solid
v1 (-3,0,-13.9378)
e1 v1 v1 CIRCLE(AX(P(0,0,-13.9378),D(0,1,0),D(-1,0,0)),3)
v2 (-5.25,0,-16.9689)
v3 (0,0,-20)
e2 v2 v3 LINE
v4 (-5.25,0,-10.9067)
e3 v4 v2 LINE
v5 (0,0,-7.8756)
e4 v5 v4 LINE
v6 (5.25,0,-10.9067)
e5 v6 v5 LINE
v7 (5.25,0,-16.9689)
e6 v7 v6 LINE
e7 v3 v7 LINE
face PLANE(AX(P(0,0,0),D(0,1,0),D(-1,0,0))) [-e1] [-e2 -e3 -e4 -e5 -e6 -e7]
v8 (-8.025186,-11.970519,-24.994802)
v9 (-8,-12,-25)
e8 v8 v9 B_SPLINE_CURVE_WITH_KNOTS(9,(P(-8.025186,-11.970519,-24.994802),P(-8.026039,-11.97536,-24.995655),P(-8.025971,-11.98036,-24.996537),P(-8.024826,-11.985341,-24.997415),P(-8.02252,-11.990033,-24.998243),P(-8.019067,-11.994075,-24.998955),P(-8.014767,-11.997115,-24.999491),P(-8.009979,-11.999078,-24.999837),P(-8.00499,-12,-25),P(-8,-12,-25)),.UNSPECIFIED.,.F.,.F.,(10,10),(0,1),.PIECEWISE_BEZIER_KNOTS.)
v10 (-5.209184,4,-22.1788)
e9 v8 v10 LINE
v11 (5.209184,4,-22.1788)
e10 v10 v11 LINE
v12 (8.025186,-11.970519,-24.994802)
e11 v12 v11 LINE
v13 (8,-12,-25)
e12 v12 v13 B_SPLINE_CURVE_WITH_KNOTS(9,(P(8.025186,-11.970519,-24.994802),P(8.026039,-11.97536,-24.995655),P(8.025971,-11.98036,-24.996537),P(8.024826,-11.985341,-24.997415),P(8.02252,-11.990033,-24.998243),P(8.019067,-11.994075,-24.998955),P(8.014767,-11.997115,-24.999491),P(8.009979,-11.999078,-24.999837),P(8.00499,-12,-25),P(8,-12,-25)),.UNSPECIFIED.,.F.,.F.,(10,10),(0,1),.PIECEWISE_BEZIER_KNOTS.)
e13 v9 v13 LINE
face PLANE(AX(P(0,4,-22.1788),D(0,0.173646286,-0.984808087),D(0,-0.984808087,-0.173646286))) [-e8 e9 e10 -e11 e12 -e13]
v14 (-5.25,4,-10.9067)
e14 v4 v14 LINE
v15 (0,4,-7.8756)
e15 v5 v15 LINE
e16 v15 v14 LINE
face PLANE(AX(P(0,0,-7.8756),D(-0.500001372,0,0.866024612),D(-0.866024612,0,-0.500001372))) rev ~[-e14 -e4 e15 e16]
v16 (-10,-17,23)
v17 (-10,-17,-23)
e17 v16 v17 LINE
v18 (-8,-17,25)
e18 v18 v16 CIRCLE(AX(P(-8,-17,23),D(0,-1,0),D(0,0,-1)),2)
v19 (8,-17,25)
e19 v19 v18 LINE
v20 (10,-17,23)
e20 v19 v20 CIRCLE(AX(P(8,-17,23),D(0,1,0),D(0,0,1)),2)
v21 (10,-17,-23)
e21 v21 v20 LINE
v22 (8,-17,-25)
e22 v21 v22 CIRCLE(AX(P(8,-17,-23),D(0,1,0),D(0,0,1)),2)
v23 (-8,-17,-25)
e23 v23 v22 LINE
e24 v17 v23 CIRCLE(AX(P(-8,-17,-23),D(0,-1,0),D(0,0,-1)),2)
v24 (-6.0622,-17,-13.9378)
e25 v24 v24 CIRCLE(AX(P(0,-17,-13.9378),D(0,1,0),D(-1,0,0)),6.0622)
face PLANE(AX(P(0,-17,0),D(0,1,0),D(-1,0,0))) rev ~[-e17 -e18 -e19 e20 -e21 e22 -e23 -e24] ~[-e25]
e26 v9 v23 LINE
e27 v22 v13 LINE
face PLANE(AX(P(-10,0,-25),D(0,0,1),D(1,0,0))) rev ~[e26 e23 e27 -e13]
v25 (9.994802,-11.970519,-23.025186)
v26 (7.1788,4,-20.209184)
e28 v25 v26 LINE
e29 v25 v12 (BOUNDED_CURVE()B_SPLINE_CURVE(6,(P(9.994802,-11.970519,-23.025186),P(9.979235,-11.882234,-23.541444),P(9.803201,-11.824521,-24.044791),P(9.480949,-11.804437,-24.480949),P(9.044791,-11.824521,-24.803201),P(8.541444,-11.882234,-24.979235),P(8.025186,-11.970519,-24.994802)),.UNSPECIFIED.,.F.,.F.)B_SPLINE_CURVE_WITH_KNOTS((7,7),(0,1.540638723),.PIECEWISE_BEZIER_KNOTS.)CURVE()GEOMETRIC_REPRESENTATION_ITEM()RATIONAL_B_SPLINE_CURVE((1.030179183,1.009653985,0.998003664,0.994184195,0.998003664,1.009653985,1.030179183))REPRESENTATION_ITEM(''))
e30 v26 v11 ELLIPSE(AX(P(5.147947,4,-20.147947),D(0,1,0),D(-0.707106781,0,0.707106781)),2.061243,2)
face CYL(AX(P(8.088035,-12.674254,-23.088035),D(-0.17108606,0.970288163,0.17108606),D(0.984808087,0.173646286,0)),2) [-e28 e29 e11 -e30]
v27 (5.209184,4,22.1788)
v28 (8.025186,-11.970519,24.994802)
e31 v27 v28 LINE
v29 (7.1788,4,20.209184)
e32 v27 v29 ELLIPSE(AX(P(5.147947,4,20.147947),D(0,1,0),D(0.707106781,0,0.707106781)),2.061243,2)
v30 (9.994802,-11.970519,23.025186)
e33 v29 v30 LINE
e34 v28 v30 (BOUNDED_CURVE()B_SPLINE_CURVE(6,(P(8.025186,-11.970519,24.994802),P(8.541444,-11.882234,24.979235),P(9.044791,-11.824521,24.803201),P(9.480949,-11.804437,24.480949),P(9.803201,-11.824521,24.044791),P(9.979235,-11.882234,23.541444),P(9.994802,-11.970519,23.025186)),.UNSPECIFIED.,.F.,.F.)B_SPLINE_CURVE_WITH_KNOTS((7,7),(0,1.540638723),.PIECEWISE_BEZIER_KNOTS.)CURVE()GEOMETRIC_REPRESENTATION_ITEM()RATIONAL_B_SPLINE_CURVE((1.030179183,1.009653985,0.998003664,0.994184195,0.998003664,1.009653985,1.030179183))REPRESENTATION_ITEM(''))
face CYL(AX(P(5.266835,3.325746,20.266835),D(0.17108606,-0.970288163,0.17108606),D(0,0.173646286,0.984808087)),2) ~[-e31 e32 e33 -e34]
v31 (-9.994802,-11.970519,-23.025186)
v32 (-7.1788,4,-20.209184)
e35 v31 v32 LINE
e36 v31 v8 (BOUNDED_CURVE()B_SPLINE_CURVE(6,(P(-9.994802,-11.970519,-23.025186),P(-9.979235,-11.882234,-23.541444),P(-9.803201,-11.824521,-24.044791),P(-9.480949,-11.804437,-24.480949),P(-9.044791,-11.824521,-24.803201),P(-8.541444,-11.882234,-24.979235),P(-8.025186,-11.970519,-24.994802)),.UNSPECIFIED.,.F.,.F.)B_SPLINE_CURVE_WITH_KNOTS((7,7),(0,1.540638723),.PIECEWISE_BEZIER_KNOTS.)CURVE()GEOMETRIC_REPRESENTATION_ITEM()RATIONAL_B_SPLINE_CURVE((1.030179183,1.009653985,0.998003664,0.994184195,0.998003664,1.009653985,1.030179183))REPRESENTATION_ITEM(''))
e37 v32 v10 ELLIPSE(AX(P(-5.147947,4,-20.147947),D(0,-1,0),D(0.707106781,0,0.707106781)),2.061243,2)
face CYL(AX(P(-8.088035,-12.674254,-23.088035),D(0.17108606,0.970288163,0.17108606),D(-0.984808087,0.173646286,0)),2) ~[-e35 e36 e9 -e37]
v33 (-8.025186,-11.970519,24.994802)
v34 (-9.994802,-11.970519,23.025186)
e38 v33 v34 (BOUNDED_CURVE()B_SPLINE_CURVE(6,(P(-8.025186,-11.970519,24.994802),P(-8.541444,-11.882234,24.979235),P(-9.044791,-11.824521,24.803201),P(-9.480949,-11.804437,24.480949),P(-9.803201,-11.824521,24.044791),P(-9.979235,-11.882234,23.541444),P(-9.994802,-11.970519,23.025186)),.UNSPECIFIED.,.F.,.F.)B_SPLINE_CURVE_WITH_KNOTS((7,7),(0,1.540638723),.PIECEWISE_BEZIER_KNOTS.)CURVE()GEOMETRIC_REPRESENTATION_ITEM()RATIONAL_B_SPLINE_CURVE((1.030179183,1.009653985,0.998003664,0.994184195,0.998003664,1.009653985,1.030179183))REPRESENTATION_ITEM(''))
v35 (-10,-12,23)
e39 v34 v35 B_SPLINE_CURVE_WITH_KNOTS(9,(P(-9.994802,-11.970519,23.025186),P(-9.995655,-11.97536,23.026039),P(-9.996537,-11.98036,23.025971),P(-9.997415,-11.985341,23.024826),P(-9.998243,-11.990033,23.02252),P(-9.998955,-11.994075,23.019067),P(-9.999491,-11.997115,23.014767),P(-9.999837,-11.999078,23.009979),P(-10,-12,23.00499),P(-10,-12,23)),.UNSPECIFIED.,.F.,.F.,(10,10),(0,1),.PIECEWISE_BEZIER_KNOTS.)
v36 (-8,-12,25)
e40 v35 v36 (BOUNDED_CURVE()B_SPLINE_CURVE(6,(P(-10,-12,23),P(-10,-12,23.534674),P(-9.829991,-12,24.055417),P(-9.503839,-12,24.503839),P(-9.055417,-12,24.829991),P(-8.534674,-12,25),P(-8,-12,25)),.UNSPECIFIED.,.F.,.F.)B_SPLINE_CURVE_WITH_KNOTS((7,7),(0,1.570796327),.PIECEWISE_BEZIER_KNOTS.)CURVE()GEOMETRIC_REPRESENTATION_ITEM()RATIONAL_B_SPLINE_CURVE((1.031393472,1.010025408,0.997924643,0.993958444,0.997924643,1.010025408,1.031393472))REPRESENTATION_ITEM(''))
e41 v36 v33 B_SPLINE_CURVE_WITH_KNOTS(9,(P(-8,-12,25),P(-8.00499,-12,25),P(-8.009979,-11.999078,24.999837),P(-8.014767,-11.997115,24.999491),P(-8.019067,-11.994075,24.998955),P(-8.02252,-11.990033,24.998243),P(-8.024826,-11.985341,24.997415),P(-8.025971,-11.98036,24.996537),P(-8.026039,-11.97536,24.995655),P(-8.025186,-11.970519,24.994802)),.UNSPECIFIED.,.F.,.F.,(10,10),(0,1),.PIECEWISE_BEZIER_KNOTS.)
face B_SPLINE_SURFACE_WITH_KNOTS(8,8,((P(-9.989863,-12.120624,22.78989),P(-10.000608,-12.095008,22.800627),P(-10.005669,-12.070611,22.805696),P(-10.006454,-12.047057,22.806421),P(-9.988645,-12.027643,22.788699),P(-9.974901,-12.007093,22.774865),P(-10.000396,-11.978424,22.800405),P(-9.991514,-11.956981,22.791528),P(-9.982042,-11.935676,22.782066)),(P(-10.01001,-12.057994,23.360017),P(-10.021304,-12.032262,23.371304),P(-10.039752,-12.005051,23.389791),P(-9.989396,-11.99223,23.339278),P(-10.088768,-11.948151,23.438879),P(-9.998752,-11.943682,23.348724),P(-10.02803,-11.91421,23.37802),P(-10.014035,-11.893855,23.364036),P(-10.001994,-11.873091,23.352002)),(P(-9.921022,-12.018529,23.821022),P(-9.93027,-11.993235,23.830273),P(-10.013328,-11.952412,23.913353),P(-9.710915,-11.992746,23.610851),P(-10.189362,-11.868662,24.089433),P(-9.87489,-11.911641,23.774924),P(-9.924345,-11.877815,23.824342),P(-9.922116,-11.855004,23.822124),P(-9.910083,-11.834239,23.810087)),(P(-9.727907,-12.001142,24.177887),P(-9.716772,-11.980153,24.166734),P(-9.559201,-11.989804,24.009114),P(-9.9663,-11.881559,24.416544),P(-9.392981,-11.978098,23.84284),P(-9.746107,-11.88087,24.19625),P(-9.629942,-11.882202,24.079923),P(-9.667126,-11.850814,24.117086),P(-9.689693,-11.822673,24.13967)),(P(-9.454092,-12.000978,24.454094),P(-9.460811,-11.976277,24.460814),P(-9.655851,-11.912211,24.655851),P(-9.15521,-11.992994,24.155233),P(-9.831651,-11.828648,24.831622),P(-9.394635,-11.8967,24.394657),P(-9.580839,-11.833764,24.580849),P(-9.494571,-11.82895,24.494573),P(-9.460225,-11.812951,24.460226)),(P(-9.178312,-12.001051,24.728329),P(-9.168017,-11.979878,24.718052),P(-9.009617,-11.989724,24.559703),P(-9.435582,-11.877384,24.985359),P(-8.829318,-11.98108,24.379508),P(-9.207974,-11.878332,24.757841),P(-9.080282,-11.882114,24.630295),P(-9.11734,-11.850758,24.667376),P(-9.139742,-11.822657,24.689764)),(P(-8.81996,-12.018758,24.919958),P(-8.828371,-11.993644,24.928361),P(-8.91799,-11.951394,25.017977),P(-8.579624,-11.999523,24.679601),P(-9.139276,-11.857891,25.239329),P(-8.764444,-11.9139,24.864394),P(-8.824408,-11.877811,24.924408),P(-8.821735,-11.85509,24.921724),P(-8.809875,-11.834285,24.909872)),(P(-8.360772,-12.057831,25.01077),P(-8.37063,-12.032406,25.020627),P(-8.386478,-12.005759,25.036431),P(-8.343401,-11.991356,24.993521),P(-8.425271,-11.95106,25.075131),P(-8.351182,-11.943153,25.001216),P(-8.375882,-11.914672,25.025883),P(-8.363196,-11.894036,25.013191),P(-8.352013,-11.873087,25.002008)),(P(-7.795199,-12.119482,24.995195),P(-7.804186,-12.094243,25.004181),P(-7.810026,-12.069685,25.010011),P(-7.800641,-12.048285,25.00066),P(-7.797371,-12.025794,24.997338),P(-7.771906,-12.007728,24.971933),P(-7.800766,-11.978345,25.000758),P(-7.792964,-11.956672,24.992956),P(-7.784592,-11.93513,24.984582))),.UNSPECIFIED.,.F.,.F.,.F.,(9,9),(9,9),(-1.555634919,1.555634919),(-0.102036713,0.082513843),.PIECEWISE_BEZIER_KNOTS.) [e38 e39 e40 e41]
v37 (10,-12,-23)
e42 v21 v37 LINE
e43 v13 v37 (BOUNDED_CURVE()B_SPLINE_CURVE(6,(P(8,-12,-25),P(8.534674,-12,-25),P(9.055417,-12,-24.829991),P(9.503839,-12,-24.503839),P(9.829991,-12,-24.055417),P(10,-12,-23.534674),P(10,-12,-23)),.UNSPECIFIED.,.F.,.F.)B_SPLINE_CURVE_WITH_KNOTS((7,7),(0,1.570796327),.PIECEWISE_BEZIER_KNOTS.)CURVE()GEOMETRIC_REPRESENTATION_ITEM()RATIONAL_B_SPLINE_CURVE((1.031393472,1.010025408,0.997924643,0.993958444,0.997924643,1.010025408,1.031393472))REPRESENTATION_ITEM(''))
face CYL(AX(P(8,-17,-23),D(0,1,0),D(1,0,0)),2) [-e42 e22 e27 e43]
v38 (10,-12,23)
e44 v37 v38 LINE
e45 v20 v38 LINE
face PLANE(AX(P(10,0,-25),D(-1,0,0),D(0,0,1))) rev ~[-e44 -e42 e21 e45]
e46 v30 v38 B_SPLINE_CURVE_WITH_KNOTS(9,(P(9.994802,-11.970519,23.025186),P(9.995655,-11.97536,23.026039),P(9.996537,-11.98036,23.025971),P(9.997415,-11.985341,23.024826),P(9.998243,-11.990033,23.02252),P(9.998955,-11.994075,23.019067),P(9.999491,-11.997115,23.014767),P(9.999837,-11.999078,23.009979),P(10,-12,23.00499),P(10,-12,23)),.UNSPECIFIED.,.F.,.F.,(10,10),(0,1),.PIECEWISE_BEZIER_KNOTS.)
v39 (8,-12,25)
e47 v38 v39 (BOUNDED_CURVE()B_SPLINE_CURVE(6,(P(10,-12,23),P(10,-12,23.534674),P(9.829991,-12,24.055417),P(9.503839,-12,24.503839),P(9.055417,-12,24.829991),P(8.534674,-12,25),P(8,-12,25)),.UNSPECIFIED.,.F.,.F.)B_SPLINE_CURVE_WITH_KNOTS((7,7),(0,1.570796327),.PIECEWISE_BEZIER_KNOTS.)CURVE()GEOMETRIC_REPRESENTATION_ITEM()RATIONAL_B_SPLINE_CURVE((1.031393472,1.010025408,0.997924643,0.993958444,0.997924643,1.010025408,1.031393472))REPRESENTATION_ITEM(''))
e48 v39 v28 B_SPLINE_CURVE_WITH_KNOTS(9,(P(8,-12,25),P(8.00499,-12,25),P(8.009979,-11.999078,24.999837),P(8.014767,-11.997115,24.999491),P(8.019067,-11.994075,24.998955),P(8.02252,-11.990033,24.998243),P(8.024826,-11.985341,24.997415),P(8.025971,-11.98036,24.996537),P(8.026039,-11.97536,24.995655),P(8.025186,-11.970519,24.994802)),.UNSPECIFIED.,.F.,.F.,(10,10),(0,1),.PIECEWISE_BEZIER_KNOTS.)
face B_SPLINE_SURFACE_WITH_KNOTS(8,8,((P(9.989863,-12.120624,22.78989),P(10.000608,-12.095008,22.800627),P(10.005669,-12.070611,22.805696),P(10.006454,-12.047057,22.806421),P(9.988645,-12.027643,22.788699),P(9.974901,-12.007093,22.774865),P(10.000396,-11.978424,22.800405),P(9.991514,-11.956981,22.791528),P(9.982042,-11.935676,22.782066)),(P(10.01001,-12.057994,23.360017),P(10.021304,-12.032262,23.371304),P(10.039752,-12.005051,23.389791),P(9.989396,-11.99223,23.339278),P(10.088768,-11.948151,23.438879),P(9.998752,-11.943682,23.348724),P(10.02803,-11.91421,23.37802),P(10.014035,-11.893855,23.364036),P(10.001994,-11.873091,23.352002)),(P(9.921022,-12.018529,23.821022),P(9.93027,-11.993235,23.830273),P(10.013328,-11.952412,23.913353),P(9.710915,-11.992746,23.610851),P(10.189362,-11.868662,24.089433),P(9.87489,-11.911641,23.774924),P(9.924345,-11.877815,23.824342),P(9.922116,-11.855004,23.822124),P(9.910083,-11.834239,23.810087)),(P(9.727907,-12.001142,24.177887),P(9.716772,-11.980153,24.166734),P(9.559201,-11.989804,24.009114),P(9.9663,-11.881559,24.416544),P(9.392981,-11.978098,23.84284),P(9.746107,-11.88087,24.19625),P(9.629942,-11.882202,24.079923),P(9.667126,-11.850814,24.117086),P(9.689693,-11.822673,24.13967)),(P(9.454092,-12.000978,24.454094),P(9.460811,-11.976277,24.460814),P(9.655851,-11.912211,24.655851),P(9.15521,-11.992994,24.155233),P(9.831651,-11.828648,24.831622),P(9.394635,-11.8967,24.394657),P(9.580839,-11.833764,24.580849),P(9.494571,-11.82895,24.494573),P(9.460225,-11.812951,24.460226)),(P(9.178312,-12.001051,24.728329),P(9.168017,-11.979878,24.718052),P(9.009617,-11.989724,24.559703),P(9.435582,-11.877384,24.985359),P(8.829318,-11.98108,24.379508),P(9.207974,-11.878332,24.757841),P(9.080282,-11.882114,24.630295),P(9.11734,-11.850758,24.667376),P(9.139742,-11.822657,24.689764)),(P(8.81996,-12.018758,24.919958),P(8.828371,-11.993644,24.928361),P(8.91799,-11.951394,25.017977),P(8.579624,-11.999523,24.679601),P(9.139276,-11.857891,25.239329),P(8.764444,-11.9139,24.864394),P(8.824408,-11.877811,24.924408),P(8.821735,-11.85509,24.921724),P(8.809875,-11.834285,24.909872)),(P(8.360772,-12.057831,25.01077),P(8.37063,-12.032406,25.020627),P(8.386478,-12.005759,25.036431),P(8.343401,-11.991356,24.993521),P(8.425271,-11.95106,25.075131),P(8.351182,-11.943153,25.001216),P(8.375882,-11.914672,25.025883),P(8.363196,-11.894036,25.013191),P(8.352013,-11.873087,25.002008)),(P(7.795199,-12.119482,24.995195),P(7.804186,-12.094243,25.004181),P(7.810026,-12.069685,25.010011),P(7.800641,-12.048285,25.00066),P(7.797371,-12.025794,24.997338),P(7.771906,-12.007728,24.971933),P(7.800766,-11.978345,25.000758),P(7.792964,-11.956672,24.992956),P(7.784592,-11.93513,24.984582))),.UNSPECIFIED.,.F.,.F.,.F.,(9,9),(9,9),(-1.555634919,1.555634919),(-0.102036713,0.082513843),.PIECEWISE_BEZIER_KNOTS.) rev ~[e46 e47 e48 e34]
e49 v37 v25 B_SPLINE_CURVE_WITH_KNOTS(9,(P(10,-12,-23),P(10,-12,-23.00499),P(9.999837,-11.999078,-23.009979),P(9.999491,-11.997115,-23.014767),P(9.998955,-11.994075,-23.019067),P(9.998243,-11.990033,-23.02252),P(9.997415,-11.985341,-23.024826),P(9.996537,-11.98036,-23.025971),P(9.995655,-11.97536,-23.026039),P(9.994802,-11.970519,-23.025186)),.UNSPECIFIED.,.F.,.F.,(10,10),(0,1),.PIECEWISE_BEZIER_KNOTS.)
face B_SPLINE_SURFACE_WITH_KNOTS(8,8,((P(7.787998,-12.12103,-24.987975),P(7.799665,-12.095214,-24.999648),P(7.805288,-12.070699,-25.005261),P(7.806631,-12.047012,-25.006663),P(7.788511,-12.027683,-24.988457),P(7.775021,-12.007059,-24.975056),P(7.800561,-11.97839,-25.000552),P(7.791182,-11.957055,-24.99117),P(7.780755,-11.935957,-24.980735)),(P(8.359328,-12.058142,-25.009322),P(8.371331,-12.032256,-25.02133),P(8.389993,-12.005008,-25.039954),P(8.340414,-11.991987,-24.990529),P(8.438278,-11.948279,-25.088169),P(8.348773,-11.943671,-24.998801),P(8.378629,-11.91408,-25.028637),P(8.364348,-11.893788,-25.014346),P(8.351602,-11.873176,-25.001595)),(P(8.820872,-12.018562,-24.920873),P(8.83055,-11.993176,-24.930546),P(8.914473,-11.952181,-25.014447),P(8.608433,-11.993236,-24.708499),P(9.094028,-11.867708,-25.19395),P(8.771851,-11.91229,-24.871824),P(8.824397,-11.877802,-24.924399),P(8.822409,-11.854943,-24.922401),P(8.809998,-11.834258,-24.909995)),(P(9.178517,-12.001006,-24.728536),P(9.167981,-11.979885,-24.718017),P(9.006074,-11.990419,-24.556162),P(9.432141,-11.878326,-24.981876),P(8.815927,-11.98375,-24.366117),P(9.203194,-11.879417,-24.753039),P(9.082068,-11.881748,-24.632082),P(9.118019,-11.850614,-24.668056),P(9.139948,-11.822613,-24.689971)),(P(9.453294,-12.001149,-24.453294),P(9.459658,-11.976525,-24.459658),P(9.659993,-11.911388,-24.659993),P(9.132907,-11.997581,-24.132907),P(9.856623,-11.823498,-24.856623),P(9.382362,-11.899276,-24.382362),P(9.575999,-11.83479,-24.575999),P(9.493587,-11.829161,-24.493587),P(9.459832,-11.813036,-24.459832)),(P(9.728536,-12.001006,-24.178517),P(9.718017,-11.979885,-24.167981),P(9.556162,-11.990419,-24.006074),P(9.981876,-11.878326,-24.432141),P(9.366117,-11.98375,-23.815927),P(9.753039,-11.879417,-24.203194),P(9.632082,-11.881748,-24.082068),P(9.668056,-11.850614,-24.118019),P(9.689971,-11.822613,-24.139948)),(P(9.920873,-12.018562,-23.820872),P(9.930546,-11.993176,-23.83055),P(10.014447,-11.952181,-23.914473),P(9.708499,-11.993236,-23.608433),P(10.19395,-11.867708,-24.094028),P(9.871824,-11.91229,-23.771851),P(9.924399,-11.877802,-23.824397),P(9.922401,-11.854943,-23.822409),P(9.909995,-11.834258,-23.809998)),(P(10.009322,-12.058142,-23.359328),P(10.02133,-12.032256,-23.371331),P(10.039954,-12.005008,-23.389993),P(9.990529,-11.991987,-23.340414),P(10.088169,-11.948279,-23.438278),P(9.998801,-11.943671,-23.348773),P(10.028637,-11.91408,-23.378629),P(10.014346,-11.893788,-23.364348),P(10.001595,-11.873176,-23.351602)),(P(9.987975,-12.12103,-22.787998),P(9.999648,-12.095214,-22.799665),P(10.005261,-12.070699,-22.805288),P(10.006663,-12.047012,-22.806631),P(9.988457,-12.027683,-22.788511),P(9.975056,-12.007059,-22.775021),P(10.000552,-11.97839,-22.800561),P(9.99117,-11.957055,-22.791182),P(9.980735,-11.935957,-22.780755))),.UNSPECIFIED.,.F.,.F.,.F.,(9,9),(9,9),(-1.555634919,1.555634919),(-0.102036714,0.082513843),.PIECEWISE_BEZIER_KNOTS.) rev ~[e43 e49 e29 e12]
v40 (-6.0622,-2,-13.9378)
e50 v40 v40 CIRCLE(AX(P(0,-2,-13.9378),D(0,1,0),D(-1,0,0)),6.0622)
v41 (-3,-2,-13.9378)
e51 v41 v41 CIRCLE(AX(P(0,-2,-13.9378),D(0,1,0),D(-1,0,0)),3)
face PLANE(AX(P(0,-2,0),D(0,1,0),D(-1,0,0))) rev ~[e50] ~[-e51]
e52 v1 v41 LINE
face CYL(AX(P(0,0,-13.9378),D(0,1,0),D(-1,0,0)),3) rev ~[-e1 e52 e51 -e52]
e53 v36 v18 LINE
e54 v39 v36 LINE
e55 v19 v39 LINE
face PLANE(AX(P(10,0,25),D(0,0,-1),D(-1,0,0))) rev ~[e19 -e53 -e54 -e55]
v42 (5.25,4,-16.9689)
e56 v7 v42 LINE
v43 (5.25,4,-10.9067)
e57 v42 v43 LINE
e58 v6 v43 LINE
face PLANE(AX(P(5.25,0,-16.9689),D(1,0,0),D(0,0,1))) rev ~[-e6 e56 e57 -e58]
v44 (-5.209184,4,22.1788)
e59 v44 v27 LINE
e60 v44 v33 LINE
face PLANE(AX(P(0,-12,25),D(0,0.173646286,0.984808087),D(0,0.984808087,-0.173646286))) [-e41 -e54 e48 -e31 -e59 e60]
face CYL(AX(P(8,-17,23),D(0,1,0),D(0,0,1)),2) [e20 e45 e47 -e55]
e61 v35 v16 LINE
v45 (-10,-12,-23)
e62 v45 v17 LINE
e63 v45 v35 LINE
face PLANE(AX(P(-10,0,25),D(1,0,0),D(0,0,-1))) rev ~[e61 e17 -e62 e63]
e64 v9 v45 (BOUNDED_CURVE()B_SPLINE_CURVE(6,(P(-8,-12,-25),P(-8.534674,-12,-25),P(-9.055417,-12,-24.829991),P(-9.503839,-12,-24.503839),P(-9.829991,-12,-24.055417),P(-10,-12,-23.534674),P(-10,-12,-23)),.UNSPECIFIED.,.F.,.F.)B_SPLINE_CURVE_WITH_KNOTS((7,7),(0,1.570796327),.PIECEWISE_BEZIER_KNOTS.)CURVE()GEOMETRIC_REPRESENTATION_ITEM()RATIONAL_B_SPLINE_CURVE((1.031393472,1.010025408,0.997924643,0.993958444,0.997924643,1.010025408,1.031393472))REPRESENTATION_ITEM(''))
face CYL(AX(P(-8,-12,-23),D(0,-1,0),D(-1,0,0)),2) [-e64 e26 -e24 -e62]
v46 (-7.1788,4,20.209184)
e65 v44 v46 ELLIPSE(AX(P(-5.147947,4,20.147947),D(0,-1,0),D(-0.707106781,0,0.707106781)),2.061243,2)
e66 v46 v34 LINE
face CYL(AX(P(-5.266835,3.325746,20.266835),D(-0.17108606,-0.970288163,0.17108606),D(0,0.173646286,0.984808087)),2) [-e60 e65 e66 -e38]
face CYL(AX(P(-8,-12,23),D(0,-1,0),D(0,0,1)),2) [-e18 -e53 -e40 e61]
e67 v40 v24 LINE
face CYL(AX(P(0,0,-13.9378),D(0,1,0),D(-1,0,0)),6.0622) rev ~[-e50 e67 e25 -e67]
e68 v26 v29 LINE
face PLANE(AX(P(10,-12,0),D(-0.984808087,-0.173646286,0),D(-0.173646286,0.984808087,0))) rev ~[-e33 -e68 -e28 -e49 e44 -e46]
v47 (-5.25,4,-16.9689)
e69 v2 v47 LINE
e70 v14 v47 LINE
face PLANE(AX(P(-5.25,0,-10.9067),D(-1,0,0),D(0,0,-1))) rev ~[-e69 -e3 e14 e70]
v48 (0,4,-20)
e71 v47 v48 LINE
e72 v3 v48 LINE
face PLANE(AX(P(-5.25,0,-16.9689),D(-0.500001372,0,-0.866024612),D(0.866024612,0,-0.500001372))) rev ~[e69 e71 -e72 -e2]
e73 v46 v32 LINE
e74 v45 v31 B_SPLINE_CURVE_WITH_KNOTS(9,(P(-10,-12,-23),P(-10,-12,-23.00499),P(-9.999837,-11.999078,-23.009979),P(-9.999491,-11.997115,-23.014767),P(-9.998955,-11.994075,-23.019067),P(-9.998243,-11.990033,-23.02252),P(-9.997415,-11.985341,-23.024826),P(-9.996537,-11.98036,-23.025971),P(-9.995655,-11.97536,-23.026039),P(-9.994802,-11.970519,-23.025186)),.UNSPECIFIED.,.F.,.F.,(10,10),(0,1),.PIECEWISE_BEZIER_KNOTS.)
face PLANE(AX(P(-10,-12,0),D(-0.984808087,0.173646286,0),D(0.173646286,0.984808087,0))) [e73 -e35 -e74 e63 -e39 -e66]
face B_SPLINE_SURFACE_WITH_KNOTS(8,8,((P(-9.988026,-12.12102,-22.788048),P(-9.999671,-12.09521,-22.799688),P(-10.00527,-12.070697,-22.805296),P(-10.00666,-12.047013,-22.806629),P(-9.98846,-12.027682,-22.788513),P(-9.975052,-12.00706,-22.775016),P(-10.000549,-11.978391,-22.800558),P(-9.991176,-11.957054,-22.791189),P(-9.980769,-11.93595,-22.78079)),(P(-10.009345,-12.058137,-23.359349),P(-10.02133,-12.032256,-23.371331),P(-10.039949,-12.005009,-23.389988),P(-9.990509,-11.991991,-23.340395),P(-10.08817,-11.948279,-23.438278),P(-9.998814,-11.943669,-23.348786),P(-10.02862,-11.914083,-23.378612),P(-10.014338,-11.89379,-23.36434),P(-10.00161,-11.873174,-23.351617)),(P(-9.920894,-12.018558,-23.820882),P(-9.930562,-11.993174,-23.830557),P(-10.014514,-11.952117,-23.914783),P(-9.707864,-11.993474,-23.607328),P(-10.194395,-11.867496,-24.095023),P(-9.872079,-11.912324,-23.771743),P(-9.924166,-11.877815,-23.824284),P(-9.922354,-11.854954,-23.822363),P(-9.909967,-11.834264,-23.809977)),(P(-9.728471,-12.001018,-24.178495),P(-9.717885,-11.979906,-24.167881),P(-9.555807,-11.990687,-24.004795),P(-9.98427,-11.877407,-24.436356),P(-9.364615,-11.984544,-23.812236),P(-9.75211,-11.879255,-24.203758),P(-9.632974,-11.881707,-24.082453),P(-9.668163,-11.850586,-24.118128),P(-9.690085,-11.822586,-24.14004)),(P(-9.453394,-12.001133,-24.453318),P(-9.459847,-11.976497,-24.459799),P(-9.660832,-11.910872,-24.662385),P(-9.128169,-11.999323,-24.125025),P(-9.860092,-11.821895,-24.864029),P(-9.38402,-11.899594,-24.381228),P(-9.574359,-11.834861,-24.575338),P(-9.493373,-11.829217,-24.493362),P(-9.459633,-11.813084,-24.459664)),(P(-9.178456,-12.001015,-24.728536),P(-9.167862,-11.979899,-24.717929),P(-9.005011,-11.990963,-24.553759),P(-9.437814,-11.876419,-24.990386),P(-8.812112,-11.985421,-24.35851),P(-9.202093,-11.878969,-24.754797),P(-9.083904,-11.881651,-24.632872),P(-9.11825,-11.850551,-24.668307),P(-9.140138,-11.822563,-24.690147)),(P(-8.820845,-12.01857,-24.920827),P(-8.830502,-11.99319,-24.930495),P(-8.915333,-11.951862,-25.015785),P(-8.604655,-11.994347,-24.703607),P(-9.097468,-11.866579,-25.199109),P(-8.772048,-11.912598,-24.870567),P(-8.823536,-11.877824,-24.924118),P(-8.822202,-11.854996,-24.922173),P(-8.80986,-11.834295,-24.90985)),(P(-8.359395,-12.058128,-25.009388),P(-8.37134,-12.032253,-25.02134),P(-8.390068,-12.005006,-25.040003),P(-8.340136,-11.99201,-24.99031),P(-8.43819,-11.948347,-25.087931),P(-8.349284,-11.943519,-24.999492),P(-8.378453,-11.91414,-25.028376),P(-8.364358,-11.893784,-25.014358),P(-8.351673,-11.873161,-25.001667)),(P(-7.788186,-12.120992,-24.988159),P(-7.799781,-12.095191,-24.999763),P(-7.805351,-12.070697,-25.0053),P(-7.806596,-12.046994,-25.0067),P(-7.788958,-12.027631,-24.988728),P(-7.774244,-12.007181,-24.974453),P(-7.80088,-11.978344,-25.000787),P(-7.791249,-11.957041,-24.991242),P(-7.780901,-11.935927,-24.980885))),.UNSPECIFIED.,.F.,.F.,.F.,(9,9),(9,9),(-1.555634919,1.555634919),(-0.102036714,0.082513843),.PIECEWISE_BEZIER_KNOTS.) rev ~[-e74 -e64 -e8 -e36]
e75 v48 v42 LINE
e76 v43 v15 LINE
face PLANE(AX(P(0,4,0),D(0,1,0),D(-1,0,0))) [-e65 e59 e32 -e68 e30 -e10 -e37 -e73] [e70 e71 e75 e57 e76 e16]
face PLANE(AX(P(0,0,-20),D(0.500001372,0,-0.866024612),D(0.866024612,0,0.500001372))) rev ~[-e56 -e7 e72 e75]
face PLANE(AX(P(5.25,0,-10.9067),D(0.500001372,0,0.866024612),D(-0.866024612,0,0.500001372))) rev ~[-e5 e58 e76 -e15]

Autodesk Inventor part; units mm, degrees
ref_plane "YZ Plane" through (0, 0, 0) normal (1, 0, 0) x (0, 1, 0)
ref_plane "XZ Plane" through (0, 0, 0) normal (0, 1, 0) x (-1, 0, 0)
ref_plane "XY Plane" through (0, 0, 0) normal (0, 0, 1) x (1, 0, 0)
sketch "Skizze1" plane through (0, 0, 0) normal (0, 1, 0) x (-1, 0, 0)
  line L0 (-10, 25) -> (10, 25)
  line L1 (10, 25) -> (10, -25)
  line L2 (10, -25) -> (-10, -25)
  line L3 (-10, -25) -> (-10, 25)
  line L4 (-10, 25) -> (10, -25) construction
  line L5 (10, 25) -> (-10, -25) construction
  line L6 (0, -20) -> (-5.25, -16.9689)
  line L7 (-5.25, -16.9689) -> (-5.25, -10.9067)
  line L8 (-5.25, -10.9067) -> (0, -7.8756)
  line L9 (0, -7.8756) -> (5.25, -10.9067)
  line L10 (5.25, -10.9067) -> (5.25, -16.9689)
  line L11 (5.25, -16.9689) -> (0, -20)
  circle A0 centre (0, -13.9378) radius 3
  circle A1 centre (0, -13.9378) radius 6.0622
  point P0 (0, 0)
  point P1 (0, 0)
  dimension "d0" = 10.5
  dimension "d1" = 20
  dimension "d2" = 50
  dimension "d3" = 5
  dimension "d6" = 6
extrude "Extrusion1" add sketch "Skizze1" against normal blind 2 contours L0 L1 L2 L3 | A1 L6 | L6 L7 L8 L9 L10 L11 | L11 A1 | A1 L7 | L10 A1 | A1 L8 | L9 A1
extrude "Extrusion2" add sketch "Skizze1" along normal blind 4 contours L0 L1 L2 L3 | A1 L6 | L11 A1 | A1 L7 | L10 A1 | A1 L8 | L9 A1
extrude "Extrusion3" add sketch "Skizze1" against normal blind 17 contours L0 L1 L2 L3
sketch "Skizze2" plane through (0, 0, 0) normal (1, 0, 0) x (0, 1, 0)
  line L0 (0, -10.9378) -> (-2, -10.9378) projected
  line L1 (-2, -10.9378) -> (-2, -7.8756) projected
  line L2 (-2, -7.8756) -> (-17, -7.8756) projected
  line L3 (-17, -7.8756) -> (-17, 25) projected
  line L4 (-17, 25) -> (4, 25) projected
  line L5 (4, 25) -> (4, -7.8756) projected
  line L6 (4, -7.8756) -> (0, -7.8756) projected
  line L7 (0, -7.8756) -> (0, -10.9378) projected
  line L8 (-2, -16.9378) -> (0, -16.9378) projected
  line L9 (0, -16.9378) -> (0, -20) projected
  line L10 (0, -20) -> (4, -20) projected
  line L11 (4, -20) -> (4, -25) projected
  line L12 (4, -25) -> (-17, -25) projected
  line L13 (-17, -25) -> (-17, -20) projected
  line L14 (-17, -20) -> (-2, -20) projected
  line L15 (-2, -20) -> (-2, -16.9378) projected
  line L16 (-12, 25) -> (4, 22.1788)
  line L17 (4, 25) -> (4, 22.1788)
  line L18 (4, 25) -> (-12, 25)
  line L19 (4, -22.1788) -> (4, -25)
  line L20 (4, -22.1788) -> (-12, -25)
  line L21 (4, -25) -> (-12, -25)
  point P0 (0, 0)
  dimension "d12" = 5
  dimension "d13" = 10
  dimension "d14" = 10
extrude "Extrusion4" cut sketch "Skizze2" along normal through all both and the other way through all contours L16 L4 L5 | L11 L12 L20
sketch "Skizze3" plane through (0, 0, 0) normal (0, 0, 1) x (1, 0, 0)
  line L0 (-10, 4) -> (10, 4) projected
  line L1 (10, 4) -> (10, -17) projected
  line L2 (10, -17) -> (-10, -17) projected
  line L3 (-10, -17) -> (-10, 4) projected
  line L4 (-7.1788, 4) -> (-10, 4)
  line L5 (-10, -12) -> (-10, 4)
  line L6 (-10, -12) -> (-7.1788, 4)
  line L7 (7.1788, 4) -> (10, 4)
  line L8 (10, 4) -> (10, -12)
  line L9 (10, -12) -> (7.1788, 4)
  point P0 (0, 0)
  dimension "d17" = 10
  dimension "d18" = 10
  dimension "d19" = 5
extrude "Extrusion5" cut sketch "Skizze3" along normal through all both and the other way through all contours L0 L6 L3 | L0 L1 L9
fillet "Rundung1" radius 2 8 edges at (8.5894, -4, 23.5894) (10, -14.5, 25) (-8.5894, -4, 23.5894) (-10, -14.5, 25) (-8.5894, -4, -23.5894) (-10, -14.5, -25) (8.5894, -4, -23.5894) (10, -14.5, -25)
equation "\"d18\" = d17"
equation "\"d19\" = d12"
properties part number "Verschluss_Knauf"
